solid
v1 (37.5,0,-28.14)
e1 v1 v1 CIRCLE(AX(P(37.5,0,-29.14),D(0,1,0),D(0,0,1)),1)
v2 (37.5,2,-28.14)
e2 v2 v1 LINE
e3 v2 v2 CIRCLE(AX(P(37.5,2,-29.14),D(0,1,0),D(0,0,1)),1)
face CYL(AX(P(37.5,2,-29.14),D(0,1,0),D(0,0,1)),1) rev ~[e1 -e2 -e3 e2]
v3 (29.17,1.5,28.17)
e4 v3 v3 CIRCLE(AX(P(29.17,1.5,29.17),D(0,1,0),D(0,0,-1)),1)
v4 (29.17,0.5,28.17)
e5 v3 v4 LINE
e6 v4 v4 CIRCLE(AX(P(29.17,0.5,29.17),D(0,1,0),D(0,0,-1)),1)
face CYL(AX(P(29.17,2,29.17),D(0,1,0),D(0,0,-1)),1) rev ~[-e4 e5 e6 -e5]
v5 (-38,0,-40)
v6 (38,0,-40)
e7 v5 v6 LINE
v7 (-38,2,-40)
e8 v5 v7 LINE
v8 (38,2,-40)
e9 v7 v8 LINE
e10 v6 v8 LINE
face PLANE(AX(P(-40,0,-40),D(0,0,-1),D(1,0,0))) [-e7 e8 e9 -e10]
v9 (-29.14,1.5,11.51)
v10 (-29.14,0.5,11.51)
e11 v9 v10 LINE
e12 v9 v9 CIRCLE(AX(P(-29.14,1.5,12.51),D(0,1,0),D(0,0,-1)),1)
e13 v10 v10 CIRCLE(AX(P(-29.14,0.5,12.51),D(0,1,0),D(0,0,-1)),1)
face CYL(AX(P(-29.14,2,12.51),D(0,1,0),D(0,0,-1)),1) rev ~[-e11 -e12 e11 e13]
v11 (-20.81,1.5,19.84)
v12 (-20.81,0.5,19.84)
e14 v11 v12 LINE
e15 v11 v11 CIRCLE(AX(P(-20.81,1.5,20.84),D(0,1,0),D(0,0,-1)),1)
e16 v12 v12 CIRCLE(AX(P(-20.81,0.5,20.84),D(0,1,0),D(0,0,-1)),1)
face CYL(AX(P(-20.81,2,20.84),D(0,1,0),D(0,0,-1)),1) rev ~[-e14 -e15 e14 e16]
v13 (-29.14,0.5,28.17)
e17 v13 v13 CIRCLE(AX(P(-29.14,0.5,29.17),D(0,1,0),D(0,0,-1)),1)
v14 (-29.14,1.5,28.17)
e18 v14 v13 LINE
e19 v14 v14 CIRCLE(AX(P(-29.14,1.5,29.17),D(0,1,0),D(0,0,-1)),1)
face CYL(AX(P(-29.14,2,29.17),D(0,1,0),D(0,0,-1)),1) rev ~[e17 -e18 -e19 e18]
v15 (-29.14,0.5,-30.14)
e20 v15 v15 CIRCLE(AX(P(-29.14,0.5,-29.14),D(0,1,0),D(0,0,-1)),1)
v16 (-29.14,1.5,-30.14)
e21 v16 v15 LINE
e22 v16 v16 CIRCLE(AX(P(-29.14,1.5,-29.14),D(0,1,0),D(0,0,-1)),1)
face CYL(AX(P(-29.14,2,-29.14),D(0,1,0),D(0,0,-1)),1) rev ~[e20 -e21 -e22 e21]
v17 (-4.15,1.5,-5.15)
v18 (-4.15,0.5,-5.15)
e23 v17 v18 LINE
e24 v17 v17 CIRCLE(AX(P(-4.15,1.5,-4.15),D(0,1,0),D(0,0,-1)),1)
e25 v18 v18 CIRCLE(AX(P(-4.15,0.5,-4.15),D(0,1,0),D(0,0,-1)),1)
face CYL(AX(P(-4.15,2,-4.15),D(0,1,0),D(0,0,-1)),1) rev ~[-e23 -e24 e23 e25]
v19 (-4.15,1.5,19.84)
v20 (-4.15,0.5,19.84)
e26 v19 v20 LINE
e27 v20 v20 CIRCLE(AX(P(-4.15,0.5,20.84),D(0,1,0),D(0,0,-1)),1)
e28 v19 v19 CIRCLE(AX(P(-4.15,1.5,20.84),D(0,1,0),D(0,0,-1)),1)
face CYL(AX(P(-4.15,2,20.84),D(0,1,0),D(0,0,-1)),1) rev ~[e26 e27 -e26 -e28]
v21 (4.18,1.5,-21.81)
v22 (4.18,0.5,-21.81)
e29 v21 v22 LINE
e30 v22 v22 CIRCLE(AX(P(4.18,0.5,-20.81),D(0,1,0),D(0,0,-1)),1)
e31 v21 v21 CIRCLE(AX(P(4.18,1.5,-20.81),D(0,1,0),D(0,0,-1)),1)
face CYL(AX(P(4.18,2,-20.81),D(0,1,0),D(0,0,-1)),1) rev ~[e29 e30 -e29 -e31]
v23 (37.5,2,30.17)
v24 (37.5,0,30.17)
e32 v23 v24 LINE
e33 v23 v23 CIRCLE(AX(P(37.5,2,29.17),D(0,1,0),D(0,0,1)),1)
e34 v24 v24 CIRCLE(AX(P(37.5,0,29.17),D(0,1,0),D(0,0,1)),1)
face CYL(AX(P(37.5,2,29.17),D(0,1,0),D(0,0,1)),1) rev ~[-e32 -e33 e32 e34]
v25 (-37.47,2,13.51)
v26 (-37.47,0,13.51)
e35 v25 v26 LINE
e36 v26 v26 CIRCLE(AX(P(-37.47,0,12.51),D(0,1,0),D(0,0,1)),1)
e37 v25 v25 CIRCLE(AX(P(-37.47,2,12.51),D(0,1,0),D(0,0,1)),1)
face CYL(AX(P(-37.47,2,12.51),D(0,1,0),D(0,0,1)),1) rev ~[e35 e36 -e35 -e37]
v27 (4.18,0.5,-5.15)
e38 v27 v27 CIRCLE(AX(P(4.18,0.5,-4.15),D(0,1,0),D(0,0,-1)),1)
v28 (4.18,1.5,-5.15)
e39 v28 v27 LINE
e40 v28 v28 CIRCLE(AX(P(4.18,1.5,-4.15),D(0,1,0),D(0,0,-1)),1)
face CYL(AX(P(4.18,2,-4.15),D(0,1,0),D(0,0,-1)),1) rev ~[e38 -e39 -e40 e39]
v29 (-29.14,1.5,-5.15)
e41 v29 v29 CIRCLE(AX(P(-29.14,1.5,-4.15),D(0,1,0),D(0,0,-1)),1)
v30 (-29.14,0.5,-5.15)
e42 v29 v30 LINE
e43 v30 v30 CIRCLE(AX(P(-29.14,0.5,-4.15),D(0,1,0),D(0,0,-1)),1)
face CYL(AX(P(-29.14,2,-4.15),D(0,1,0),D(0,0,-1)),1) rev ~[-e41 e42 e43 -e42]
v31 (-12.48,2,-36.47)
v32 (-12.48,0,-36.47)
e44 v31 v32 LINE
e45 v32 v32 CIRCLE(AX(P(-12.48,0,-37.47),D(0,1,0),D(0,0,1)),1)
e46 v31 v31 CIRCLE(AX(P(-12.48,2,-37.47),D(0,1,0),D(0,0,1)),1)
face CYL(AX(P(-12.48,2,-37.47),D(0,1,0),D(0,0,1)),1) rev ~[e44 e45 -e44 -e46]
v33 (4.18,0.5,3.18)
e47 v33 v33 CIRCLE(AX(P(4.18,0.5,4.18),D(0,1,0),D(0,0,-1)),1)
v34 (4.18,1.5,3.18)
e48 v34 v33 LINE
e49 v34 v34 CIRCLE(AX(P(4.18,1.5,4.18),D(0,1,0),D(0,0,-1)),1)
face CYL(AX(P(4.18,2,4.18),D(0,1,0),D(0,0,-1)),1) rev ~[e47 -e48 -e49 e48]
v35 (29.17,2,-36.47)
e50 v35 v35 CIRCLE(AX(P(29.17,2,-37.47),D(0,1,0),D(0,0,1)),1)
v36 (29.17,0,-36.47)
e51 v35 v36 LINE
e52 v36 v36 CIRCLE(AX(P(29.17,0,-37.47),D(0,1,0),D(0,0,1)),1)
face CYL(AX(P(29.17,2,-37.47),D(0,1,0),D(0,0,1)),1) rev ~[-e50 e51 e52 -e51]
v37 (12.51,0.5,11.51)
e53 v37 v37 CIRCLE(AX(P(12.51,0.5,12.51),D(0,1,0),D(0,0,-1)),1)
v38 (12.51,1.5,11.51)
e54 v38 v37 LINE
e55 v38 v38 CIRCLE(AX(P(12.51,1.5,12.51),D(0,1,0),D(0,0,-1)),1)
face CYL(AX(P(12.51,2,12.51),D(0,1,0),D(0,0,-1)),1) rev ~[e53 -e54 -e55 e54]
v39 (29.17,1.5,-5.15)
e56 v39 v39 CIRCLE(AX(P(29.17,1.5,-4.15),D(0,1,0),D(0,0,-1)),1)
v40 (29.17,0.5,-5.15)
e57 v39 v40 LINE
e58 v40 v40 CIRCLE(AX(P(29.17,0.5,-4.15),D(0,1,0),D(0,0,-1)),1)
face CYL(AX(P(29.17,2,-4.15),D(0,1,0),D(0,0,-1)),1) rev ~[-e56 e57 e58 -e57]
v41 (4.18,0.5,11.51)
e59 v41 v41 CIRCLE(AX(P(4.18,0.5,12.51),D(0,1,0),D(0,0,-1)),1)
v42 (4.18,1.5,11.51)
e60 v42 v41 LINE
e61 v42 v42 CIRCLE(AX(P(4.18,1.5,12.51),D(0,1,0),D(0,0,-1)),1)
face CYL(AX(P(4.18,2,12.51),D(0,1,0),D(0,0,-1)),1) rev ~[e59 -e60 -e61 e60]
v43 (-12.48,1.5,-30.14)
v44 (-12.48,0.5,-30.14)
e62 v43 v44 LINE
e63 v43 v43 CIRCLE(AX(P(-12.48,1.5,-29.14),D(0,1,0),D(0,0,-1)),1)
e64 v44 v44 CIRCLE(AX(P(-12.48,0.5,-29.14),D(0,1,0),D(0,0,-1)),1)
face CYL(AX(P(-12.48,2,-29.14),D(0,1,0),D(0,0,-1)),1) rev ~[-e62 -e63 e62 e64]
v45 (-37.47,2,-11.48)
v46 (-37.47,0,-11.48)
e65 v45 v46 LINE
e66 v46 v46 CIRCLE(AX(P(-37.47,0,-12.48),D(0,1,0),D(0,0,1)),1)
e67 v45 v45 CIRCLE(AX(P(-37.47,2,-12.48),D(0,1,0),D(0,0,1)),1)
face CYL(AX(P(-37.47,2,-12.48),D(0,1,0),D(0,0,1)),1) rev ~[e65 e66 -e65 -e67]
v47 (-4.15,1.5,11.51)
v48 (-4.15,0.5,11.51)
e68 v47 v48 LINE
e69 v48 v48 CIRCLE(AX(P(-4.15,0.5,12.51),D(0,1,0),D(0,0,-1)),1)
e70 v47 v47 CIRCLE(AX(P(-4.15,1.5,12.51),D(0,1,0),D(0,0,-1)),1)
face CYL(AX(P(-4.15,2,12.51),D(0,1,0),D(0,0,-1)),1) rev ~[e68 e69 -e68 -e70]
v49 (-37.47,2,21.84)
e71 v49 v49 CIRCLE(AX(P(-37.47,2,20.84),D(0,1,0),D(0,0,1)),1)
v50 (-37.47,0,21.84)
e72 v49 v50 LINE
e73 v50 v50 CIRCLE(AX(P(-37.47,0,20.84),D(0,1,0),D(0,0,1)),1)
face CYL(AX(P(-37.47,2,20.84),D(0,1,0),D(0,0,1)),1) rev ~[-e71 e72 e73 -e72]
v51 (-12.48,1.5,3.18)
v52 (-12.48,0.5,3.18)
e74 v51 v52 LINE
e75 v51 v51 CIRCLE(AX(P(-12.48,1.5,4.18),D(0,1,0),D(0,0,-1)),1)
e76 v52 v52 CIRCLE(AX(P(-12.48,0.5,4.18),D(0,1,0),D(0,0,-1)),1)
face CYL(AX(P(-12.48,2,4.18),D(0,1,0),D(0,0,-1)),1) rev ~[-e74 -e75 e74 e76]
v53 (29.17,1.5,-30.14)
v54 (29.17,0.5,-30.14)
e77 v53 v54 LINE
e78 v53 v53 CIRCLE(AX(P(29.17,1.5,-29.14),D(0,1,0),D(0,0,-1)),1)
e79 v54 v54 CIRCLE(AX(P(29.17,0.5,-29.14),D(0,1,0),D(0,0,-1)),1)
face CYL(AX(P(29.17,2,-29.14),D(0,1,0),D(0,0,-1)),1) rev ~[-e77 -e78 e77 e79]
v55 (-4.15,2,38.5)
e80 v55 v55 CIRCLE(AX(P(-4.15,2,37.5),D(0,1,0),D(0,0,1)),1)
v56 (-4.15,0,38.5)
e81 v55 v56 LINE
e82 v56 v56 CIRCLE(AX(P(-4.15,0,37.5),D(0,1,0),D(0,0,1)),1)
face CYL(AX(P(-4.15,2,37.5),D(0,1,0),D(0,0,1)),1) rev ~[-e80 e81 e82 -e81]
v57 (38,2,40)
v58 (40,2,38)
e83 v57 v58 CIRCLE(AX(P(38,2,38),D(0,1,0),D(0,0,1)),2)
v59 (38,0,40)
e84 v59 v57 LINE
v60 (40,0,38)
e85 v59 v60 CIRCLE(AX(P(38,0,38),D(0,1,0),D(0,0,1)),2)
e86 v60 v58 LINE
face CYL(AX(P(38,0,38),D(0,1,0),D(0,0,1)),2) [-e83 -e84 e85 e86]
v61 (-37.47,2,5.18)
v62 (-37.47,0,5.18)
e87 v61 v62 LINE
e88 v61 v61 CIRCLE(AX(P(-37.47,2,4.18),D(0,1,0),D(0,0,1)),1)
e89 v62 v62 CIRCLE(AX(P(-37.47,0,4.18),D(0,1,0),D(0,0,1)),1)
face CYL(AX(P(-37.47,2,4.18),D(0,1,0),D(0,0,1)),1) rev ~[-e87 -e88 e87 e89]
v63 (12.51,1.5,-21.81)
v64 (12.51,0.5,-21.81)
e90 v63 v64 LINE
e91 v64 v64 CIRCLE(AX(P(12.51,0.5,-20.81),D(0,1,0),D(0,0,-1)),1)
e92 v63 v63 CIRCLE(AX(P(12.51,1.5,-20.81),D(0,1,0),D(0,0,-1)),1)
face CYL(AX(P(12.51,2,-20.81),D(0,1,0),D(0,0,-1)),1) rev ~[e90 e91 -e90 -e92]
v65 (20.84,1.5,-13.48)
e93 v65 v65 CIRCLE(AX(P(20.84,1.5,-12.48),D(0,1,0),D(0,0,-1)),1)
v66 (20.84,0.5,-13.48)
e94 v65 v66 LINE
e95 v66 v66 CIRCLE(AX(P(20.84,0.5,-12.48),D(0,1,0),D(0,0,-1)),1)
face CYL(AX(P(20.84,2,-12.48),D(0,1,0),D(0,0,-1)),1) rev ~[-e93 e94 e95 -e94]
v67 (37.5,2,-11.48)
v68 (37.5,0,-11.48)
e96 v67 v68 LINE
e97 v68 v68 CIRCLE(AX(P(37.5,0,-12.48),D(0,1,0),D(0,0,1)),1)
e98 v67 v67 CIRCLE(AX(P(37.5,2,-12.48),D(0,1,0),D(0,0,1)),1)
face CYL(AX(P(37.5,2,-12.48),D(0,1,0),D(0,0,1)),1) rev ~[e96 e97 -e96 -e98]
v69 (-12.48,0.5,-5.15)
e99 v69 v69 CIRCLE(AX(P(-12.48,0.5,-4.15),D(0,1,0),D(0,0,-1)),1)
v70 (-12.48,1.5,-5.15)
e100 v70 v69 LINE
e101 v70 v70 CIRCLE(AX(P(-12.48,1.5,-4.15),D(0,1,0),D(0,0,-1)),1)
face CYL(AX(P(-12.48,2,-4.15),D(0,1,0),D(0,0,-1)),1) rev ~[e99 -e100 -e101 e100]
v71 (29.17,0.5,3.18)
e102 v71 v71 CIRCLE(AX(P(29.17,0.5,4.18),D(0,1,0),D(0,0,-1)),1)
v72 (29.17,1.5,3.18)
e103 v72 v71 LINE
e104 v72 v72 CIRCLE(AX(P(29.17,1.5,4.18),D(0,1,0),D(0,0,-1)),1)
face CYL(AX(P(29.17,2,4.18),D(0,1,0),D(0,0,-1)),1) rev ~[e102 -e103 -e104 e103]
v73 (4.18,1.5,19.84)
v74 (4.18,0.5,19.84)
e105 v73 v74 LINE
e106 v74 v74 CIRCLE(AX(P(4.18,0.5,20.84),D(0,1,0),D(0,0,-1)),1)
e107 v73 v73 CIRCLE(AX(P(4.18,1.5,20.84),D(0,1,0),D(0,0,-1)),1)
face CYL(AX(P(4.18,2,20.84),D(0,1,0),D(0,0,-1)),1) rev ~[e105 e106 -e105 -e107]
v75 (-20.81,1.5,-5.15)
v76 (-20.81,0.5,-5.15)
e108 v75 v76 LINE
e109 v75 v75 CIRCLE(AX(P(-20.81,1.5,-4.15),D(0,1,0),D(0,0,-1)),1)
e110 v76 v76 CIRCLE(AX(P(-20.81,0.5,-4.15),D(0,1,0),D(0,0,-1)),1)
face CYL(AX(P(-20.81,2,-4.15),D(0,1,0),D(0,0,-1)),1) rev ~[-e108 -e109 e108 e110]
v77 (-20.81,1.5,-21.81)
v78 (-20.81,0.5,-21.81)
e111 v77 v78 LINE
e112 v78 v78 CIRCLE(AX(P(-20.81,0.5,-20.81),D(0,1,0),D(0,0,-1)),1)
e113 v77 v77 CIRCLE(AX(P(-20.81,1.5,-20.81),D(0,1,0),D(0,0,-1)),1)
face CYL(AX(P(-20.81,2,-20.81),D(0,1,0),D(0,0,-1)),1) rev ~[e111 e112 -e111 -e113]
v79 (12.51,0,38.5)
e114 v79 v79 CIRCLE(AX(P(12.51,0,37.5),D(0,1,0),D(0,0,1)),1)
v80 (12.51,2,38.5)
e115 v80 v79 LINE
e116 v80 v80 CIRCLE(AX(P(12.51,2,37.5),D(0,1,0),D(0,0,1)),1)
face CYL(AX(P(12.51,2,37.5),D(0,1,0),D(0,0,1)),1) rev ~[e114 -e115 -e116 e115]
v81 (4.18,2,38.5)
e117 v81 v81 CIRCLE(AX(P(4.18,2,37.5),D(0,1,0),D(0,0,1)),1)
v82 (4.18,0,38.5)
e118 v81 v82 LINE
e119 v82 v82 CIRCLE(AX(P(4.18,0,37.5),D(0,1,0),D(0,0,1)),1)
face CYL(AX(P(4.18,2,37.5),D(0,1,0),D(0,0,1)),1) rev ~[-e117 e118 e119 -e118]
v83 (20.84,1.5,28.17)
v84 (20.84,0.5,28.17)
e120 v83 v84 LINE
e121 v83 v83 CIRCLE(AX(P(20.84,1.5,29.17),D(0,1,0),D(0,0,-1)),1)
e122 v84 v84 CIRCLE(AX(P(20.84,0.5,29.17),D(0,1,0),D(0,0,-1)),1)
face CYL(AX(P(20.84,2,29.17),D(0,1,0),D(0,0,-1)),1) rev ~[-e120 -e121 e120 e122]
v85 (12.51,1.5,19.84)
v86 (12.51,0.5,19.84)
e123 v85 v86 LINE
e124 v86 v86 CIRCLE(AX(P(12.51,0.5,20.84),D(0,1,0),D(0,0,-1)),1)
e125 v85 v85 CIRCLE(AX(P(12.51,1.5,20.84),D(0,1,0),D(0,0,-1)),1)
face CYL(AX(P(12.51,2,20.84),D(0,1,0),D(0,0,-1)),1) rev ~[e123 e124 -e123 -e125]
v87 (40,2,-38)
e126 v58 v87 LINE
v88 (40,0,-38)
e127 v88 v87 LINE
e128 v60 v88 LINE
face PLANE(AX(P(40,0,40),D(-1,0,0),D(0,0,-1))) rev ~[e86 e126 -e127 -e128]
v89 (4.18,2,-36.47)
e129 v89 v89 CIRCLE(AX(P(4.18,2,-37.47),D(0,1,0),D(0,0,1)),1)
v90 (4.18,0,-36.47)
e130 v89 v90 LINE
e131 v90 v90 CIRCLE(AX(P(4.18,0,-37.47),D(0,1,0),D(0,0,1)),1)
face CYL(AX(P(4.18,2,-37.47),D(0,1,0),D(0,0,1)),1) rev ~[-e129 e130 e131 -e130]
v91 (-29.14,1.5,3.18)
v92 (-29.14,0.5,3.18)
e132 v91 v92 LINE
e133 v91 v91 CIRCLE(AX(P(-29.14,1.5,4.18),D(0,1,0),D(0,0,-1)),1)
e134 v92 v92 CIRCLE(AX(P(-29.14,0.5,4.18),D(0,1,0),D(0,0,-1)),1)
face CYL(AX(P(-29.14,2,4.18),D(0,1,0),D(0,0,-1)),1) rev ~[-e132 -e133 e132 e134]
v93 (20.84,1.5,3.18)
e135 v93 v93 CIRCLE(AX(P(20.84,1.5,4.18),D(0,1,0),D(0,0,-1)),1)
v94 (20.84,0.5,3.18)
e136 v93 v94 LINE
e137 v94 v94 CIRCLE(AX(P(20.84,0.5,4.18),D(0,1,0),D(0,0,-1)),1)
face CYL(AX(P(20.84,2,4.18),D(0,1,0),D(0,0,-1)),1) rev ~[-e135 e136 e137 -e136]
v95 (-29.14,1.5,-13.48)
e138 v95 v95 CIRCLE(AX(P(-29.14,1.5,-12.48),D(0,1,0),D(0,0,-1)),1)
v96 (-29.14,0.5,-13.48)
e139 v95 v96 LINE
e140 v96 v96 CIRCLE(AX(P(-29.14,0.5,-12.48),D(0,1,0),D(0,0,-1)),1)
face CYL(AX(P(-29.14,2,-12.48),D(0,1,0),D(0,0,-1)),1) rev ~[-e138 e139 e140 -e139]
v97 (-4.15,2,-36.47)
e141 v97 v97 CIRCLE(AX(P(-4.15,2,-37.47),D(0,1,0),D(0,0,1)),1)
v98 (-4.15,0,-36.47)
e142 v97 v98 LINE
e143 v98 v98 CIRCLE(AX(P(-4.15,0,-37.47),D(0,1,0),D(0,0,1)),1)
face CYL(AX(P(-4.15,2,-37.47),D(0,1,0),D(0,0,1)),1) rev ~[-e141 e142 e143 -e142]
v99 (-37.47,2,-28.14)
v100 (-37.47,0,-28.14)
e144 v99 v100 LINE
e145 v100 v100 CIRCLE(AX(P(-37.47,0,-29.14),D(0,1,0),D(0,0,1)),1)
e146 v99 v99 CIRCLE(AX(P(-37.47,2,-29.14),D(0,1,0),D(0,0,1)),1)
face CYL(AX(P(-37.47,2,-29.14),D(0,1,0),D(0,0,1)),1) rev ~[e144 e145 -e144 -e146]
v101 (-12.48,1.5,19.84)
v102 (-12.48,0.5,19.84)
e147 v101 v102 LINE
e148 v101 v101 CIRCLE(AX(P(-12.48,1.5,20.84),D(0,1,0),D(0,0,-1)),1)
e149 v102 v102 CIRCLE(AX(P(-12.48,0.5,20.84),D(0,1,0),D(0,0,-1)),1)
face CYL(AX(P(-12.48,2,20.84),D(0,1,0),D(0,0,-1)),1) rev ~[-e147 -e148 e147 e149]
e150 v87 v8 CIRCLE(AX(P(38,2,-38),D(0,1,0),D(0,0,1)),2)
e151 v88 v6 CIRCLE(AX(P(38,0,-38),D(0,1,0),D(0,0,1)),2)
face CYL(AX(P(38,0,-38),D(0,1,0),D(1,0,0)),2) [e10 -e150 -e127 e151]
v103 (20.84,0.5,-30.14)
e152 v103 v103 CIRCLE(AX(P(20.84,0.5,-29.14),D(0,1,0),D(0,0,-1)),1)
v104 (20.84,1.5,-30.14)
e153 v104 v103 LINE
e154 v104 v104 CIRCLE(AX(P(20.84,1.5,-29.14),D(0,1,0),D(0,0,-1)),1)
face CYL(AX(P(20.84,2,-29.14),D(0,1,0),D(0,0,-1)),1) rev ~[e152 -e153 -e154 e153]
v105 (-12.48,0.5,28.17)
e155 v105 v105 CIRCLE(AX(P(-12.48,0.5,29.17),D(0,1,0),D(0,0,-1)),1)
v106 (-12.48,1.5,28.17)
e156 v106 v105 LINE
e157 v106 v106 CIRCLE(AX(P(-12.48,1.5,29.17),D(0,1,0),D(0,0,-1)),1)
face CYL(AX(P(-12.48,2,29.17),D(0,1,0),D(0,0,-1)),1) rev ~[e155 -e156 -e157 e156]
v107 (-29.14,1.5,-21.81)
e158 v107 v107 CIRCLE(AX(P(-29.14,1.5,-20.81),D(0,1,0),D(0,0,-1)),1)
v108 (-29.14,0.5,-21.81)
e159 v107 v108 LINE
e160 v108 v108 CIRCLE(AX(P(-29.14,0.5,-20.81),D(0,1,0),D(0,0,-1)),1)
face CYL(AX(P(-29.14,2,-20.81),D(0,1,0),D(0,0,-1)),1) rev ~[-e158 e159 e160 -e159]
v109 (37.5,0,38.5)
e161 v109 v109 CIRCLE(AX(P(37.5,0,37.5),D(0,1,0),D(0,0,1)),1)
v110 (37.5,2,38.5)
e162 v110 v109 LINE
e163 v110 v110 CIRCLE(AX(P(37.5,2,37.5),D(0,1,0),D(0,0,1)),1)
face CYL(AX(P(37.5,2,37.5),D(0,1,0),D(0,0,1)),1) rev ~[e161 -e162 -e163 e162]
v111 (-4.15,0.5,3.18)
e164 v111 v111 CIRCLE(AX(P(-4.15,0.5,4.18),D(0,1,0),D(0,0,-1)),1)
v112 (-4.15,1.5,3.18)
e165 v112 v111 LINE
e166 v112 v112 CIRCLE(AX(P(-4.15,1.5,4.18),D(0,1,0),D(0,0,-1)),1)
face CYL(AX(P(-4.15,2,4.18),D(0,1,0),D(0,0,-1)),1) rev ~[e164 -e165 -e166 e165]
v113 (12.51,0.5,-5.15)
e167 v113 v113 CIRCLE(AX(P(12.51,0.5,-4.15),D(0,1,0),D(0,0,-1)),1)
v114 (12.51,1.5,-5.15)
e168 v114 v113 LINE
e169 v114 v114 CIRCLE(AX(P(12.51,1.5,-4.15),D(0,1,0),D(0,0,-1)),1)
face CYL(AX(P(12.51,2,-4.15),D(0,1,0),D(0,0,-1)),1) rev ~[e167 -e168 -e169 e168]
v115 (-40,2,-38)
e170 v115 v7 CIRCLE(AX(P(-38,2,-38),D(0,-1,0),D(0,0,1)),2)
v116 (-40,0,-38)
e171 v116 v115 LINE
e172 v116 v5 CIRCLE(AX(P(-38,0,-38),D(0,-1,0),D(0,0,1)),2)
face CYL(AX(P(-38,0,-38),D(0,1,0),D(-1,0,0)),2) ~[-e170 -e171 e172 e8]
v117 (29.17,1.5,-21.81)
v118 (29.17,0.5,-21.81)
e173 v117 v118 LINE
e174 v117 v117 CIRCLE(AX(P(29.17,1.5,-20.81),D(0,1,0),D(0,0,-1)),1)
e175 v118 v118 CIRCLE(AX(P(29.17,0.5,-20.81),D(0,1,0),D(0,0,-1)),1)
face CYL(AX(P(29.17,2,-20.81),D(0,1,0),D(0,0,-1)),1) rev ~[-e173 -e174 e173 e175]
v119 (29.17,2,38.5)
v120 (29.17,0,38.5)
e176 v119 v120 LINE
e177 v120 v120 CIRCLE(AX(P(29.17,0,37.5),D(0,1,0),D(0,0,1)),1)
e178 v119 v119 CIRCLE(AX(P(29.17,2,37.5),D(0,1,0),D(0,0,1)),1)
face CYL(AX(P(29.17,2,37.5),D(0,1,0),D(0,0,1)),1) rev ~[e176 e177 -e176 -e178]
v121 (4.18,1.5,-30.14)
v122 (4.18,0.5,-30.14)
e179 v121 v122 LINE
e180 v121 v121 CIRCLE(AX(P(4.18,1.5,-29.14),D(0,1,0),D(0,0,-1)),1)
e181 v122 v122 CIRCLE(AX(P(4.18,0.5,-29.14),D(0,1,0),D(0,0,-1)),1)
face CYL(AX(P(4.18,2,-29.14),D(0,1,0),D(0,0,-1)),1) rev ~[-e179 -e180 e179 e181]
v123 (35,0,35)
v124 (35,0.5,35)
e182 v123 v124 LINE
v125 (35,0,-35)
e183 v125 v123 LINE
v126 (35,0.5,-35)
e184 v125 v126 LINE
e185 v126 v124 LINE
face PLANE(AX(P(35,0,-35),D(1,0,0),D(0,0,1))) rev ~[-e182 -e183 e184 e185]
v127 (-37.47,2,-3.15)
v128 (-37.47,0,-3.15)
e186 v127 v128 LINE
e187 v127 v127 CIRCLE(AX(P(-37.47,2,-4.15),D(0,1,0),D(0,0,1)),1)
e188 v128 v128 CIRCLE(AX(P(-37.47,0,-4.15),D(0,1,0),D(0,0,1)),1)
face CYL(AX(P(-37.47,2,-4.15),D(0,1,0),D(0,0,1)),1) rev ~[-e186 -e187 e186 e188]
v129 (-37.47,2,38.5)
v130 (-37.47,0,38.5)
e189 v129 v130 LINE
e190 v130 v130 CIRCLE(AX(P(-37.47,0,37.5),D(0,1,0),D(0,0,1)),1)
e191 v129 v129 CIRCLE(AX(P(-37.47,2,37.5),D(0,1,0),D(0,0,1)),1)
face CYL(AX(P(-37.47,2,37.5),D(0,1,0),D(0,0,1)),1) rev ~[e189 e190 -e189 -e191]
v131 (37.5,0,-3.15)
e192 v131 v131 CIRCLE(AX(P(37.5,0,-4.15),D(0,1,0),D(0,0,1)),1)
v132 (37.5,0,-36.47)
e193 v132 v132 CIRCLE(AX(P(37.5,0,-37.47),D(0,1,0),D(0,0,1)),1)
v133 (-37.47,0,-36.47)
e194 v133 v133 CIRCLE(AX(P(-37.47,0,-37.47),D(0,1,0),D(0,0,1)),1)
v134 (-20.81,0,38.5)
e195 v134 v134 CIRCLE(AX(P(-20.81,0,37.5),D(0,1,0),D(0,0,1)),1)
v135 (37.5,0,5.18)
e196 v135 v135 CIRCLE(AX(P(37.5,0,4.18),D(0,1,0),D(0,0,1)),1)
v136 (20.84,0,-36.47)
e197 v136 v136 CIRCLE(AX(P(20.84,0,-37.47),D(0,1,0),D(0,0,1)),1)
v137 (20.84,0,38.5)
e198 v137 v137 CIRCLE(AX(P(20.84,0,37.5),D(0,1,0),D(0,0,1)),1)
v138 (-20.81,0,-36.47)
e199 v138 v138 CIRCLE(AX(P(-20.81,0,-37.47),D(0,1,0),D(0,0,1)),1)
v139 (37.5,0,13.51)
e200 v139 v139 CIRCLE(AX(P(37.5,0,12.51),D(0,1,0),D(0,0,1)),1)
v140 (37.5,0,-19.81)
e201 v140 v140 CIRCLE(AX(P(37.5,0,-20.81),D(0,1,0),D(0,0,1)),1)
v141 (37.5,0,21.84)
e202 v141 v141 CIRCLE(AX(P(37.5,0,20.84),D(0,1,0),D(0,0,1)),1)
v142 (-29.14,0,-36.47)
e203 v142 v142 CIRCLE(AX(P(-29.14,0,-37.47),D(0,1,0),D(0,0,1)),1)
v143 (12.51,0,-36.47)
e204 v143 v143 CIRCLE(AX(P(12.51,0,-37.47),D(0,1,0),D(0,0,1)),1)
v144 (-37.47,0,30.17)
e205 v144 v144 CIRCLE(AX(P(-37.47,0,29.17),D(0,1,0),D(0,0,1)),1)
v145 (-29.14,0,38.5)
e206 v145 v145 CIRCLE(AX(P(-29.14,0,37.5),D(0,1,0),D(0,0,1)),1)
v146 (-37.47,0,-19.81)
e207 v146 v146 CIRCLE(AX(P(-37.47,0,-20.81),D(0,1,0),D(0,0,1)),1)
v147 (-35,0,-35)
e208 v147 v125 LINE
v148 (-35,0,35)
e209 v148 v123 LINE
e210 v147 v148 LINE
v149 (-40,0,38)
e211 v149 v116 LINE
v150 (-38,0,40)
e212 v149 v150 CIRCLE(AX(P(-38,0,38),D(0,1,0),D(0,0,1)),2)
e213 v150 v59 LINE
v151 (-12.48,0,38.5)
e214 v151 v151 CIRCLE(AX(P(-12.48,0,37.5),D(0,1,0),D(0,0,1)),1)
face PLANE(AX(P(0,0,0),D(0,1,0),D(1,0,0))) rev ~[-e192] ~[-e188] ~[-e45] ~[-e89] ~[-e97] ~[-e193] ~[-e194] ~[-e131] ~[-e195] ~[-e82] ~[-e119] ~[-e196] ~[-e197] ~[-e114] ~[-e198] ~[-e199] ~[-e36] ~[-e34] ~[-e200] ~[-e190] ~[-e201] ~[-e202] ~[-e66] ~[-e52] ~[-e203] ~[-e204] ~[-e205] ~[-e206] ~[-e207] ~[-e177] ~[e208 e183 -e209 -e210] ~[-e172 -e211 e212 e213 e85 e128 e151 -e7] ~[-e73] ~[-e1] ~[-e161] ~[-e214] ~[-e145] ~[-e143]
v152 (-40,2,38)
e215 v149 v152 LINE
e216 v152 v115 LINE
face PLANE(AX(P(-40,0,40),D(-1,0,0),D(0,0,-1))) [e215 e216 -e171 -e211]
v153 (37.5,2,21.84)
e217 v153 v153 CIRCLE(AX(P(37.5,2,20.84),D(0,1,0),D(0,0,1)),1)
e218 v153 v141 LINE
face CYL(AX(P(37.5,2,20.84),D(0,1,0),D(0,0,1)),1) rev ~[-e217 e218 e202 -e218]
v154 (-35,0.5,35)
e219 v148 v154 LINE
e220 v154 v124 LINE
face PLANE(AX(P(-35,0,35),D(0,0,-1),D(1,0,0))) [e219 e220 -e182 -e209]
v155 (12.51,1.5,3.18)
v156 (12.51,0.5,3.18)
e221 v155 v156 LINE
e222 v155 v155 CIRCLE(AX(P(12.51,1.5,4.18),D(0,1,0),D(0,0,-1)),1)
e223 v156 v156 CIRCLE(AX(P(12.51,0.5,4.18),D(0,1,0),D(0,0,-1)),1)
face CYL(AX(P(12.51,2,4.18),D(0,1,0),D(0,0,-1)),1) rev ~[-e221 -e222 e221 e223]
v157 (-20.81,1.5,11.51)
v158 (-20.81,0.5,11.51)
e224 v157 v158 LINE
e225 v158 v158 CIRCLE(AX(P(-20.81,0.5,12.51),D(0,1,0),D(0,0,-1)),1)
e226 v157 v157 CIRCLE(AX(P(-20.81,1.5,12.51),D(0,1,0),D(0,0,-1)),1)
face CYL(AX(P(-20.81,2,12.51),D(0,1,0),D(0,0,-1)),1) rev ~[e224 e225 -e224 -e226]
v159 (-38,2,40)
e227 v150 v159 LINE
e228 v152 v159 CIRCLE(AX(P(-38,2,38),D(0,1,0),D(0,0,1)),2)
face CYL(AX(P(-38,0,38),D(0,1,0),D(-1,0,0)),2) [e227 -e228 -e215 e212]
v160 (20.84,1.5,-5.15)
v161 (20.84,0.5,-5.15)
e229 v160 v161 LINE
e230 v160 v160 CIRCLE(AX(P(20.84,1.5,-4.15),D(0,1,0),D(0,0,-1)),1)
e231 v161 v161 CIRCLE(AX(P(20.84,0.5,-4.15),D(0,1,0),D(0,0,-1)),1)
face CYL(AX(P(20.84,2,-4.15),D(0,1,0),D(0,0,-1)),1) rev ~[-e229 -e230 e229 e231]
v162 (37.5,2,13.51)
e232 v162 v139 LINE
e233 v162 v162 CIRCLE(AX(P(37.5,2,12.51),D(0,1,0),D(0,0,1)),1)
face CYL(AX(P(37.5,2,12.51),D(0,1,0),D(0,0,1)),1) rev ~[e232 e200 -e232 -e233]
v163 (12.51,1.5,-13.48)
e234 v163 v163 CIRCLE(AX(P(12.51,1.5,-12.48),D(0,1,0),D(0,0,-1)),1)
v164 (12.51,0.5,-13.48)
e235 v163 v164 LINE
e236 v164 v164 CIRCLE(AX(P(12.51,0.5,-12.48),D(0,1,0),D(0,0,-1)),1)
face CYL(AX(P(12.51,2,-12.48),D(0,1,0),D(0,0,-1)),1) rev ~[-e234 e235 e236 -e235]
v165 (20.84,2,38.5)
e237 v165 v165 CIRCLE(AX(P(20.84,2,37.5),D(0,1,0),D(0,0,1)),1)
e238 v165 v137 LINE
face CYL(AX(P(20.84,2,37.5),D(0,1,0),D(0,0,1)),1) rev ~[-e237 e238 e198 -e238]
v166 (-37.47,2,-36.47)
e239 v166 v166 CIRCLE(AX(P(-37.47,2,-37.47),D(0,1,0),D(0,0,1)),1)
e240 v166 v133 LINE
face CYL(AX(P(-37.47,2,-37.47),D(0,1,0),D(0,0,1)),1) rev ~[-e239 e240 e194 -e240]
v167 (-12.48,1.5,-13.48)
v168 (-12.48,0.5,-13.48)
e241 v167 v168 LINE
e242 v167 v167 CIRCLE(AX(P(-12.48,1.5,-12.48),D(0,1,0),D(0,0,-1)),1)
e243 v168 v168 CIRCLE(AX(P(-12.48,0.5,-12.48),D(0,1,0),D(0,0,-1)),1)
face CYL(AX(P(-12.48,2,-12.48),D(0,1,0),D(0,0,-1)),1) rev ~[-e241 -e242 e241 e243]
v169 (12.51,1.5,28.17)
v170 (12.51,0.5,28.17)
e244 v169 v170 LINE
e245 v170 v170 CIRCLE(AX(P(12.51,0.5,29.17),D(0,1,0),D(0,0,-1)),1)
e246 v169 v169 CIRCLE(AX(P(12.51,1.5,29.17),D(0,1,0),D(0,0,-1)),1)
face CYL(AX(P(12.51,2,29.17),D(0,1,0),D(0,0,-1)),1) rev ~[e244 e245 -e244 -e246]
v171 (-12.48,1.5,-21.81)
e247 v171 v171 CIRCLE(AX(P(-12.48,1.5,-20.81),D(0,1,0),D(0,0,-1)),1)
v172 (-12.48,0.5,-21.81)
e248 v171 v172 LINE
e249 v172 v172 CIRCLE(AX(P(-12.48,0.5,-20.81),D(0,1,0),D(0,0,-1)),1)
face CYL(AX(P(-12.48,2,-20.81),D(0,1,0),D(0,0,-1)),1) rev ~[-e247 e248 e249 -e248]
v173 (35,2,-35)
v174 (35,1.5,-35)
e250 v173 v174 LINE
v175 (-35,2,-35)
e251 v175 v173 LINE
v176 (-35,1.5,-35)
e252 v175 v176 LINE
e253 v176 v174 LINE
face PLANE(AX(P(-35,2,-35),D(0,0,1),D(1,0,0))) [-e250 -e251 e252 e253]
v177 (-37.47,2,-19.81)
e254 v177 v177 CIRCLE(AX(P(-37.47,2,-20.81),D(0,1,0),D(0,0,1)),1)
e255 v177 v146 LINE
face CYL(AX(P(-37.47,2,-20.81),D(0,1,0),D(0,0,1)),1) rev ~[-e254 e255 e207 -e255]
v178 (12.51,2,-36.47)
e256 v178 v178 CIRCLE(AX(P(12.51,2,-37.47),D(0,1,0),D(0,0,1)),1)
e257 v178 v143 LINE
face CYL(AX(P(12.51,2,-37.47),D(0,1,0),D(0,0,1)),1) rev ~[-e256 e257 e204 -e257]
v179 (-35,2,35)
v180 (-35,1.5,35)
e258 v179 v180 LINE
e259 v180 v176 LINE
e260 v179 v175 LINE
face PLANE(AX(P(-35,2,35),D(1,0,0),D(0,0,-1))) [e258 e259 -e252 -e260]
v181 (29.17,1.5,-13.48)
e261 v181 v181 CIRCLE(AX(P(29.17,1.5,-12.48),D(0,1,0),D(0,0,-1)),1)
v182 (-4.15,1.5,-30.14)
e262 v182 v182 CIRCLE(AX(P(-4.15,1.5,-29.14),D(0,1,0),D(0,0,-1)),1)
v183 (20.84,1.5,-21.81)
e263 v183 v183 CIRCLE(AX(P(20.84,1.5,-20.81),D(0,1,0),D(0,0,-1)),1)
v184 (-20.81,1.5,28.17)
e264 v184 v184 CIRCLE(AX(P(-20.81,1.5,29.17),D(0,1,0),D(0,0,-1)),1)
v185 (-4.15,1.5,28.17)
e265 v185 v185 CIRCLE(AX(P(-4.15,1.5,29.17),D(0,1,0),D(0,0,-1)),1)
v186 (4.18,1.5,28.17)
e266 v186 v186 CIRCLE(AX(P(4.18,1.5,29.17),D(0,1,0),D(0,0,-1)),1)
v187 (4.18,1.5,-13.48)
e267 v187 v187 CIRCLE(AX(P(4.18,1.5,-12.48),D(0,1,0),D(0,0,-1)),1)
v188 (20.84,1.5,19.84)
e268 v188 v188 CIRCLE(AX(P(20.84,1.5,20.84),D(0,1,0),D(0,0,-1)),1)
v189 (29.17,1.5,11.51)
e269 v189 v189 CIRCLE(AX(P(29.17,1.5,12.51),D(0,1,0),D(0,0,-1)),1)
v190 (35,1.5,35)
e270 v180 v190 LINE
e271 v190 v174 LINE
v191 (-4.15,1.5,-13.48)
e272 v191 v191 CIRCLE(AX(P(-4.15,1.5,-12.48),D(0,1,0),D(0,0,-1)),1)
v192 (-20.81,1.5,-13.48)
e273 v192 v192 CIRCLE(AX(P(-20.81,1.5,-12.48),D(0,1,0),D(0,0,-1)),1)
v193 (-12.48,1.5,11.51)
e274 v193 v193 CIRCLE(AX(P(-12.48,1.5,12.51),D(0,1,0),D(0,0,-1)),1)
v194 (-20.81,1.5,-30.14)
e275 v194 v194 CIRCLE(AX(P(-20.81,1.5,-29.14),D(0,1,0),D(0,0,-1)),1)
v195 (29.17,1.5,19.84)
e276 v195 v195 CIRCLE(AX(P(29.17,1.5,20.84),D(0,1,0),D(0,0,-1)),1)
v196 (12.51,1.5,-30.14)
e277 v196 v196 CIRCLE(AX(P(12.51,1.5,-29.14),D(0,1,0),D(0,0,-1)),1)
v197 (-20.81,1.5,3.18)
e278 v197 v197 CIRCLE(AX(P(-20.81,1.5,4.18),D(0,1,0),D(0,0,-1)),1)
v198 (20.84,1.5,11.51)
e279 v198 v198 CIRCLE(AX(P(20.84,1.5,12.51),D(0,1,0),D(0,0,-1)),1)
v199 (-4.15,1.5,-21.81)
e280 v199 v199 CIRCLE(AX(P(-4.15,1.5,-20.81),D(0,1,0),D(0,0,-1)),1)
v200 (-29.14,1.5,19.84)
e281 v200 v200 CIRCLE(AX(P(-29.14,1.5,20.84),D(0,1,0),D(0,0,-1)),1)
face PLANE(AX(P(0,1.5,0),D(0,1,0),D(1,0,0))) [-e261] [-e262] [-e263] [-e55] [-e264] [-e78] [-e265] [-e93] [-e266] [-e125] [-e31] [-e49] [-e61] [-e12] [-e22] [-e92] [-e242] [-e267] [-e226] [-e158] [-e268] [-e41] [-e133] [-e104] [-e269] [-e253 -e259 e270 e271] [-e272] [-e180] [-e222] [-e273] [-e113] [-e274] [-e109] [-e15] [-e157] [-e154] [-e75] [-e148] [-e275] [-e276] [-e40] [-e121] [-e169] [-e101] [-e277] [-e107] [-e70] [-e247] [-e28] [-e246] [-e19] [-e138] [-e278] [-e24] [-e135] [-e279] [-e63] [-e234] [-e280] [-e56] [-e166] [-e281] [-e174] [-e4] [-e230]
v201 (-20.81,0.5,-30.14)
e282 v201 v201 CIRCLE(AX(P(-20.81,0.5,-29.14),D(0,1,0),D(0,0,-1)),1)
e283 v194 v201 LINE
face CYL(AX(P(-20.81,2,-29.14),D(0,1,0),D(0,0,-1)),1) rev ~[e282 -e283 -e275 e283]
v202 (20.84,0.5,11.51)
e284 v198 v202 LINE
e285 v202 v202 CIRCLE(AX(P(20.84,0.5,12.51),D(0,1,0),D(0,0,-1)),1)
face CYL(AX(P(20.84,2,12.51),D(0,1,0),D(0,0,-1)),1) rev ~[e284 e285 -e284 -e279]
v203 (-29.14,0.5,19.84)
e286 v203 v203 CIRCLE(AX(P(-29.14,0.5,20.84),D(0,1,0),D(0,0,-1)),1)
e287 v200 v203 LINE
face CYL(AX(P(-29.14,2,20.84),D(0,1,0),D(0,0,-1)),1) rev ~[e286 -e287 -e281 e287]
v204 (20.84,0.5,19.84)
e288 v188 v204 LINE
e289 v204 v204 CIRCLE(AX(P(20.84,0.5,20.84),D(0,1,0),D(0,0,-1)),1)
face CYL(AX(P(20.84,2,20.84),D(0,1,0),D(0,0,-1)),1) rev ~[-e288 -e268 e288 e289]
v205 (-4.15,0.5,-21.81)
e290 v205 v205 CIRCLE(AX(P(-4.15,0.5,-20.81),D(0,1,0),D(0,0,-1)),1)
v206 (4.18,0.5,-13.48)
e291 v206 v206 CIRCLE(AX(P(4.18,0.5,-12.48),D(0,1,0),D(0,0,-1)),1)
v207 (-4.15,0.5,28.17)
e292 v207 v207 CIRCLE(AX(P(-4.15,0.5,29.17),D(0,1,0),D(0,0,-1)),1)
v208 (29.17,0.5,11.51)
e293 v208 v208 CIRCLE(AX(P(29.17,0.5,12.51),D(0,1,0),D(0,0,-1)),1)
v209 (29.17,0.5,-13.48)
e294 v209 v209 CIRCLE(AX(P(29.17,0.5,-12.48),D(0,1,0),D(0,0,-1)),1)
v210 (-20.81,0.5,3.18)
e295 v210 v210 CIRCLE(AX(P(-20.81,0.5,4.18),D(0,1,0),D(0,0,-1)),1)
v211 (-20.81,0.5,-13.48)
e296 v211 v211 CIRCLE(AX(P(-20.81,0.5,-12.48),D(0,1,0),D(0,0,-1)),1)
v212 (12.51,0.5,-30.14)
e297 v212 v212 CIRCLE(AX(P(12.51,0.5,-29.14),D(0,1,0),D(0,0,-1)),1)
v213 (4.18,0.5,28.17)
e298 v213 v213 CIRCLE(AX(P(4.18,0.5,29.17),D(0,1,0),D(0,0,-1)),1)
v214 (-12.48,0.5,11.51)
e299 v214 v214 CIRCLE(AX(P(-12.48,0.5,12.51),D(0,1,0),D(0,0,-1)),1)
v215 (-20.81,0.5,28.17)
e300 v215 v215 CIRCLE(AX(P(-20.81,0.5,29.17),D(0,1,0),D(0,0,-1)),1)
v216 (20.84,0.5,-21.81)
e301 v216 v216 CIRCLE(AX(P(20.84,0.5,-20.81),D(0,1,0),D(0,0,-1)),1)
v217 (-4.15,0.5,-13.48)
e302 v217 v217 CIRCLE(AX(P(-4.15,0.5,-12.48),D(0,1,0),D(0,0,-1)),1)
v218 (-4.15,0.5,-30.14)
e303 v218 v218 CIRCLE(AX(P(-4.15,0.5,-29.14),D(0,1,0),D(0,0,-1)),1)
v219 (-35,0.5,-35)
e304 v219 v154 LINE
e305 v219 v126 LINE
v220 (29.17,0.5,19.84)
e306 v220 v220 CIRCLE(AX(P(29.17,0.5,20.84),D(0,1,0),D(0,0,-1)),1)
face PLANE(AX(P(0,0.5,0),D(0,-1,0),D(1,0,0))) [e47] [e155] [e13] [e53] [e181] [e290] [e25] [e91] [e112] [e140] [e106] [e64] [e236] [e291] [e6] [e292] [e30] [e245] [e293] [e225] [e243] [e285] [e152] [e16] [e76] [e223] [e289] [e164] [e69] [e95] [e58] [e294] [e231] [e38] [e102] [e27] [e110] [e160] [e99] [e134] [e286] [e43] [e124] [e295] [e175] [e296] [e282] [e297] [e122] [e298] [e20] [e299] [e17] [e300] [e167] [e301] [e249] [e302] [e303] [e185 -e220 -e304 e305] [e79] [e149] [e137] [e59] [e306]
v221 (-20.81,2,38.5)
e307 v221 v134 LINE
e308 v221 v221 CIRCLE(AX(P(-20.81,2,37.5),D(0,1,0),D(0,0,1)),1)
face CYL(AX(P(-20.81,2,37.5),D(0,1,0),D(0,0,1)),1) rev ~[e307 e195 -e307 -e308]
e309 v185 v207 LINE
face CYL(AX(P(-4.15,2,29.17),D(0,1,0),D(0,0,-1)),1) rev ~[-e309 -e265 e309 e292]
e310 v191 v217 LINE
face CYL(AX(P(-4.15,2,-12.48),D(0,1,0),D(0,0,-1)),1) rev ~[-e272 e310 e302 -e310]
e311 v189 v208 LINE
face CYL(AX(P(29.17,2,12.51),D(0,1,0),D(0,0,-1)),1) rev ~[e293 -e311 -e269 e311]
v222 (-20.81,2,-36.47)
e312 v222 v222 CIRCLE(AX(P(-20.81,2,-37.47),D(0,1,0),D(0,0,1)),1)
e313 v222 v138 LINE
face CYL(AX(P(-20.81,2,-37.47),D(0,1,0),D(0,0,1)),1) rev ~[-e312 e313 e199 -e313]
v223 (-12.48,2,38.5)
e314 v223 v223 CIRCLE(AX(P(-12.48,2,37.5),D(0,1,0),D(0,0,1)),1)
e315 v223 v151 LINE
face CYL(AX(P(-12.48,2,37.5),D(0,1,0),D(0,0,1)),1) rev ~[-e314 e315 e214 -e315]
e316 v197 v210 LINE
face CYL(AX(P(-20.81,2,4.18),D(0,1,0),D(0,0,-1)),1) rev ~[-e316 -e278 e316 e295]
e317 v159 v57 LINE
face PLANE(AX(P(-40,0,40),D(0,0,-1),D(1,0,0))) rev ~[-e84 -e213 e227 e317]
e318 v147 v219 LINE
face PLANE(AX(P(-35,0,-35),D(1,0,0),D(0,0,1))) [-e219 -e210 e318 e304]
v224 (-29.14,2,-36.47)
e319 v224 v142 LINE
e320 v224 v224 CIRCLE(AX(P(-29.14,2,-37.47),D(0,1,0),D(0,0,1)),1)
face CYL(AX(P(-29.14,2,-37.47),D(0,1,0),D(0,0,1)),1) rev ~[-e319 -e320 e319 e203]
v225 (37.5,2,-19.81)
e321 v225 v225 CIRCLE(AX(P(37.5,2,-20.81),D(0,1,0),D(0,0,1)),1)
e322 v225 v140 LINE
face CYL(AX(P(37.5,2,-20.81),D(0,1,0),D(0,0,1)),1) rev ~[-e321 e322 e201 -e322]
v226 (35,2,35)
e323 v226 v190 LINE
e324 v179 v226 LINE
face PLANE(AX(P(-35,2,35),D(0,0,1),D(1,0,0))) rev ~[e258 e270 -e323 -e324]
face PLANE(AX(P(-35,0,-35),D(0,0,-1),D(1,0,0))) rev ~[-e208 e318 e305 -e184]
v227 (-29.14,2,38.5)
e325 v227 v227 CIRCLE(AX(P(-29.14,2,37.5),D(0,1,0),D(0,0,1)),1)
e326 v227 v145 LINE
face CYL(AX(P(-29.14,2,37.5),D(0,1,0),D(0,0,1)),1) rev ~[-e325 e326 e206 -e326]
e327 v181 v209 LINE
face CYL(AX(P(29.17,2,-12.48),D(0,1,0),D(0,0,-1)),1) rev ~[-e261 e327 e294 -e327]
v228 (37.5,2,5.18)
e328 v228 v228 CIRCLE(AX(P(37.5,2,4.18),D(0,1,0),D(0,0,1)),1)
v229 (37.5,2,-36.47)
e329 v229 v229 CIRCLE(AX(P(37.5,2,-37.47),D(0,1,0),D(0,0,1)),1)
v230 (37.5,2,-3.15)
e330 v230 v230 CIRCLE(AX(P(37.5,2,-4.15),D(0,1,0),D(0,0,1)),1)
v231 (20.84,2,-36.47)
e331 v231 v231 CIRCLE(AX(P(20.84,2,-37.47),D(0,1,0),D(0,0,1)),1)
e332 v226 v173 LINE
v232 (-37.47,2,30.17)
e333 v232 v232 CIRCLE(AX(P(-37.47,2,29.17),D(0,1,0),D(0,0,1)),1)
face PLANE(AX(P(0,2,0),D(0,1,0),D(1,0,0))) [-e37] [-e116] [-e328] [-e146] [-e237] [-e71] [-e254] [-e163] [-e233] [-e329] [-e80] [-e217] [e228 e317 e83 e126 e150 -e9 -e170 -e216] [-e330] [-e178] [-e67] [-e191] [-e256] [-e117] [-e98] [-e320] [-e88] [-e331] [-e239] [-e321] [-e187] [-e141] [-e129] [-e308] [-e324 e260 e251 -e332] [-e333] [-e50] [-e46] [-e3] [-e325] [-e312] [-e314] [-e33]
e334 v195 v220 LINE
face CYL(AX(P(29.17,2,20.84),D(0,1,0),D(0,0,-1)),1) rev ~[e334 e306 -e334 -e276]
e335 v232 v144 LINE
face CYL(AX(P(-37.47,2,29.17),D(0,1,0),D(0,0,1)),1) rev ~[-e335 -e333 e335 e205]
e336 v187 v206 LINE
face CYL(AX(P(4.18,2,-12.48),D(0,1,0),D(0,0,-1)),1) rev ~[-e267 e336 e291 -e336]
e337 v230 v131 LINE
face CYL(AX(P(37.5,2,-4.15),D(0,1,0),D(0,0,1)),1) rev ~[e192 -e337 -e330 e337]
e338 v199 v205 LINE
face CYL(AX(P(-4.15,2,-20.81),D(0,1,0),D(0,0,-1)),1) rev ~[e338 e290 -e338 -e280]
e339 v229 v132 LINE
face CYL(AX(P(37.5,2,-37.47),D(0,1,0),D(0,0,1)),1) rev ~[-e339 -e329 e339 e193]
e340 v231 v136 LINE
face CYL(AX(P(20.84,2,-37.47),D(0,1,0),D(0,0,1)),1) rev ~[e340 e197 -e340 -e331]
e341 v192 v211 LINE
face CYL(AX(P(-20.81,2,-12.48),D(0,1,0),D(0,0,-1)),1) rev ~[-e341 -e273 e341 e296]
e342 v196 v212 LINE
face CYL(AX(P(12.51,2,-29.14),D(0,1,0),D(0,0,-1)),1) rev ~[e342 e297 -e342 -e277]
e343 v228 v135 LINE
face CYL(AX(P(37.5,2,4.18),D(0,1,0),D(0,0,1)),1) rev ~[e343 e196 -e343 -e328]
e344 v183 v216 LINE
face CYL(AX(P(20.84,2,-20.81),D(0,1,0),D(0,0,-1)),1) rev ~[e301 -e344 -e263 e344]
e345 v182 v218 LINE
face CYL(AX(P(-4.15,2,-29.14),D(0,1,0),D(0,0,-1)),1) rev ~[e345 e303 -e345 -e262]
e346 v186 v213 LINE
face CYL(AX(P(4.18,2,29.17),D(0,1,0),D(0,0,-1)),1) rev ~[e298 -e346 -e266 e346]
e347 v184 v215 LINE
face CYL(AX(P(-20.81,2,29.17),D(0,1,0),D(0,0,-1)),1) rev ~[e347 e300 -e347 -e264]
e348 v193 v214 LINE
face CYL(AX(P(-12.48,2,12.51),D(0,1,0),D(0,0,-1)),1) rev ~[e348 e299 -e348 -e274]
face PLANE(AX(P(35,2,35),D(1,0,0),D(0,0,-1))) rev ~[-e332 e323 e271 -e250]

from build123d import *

# Parameters (mm, degrees)
SKETCH1_W           = 80
SKETCH1_H           = 80
BOSS_EXTRUDE1_DEPTH = 2
FILLET1_R           = 2
SKETCH3_W           = 70
SKETCH3_H           = 70
CUT_EXTRUDE2_DEPTH  = 0.5
SKETCH4_W           = 70
SKETCH4_H           = 70
CUT_EXTRUDE3_DEPTH  = 0.5
SKETCH5_R           = 1
CUT_EXTRUDE4_DEPTH  = 10


with BuildPart() as part:
    # Sketch1 → Boss-Extrude1 (new body)
    with BuildSketch(Plane(origin=(0, 0, 0), x_dir=(1, 0, 0), z_dir=(0, 1, 0))):
        Rectangle(SKETCH1_W, SKETCH1_H)
    extrude(amount=BOSS_EXTRUDE1_DEPTH)

    # Fillet1
    fillet1_edges = [part.edges().sort_by_distance(p)[0] for p in [
        (-40, 1, -40),
        (40, 1, -40),
        (40, 1, 40),
        (-40, 1, 40),
    ]]
    fillet(fillet1_edges, radius=FILLET1_R)

    # Sketch3 → Cut-Extrude2 (cut)
    with BuildSketch(Plane(origin=(0, 2, 0), x_dir=(1, 0, 0), z_dir=(0, 1, 0))):
        Rectangle(SKETCH3_W, SKETCH3_H)
    extrude(amount=-CUT_EXTRUDE2_DEPTH, mode=Mode.SUBTRACT)

    # Sketch4 → Cut-Extrude3 (cut)
    with BuildSketch(Plane.XZ):
        Rectangle(SKETCH4_W, SKETCH4_H)
    extrude(amount=-CUT_EXTRUDE3_DEPTH, mode=Mode.SUBTRACT)

    # Sketch5 → Cut-Extrude4 (cut)
    with BuildSketch(Plane(origin=(0, 2, 0), x_dir=(1, 0, 0), z_dir=(0, 1, 0))):
        with Locations(Location((37.5, -37.5, 0), (0, 0, 270))):
            Circle(SKETCH5_R)
        with Locations(Location((29.17, -37.5, 0), (0, 0, 270))):
            Circle(SKETCH5_R)
        with Locations(Location((20.84, -37.5, 0), (0, 0, 270))):
            Circle(SKETCH5_R)
        with Locations(Location((12.51, -37.5, 0), (0, 0, 270))):
            Circle(SKETCH5_R)
        with Locations(Location((4.18, -37.5, 0), (0, 0, 270))):
            Circle(SKETCH5_R)
        with Locations(Location((-4.15, -37.5, 0), (0, 0, 270))):
            Circle(SKETCH5_R)
        with Locations(Location((-12.48, -37.5, 0), (0, 0, 270))):
            Circle(SKETCH5_R)
        with Locations(Location((-20.81, -37.5, 0), (0, 0, 270))):
            Circle(SKETCH5_R)
        with Locations(Location((-29.14, -37.5, 0), (0, 0, 270))):
            Circle(SKETCH5_R)
        with Locations(Location((-37.47, -37.5, 0), (0, 0, 270))):
            Circle(SKETCH5_R)
        with Locations(Location((29.17, -29.17, 0), (0, 0, 90))):
            Circle(SKETCH5_R)
        with Locations(Location((20.84, -29.17, 0), (0, 0, 90))):
            Circle(SKETCH5_R)
        with Locations(Location((12.51, -29.17, 0), (0, 0, 90))):
            Circle(SKETCH5_R)
        with Locations(Location((4.18, -29.17, 0), (0, 0, 90))):
            Circle(SKETCH5_R)
        with Locations(Location((-4.15, -29.17, 0), (0, 0, 90))):
            Circle(SKETCH5_R)
        with Locations(Location((-12.48, -29.17, 0), (0, 0, 90))):
            Circle(SKETCH5_R)
        with Locations(Location((-20.81, -29.17, 0), (0, 0, 90))):
            Circle(SKETCH5_R)
        with Locations(Location((-29.14, -29.17, 0), (0, 0, 90))):
            Circle(SKETCH5_R)
        with Locations(Location((-37.47, -29.17, 0), (0, 0, 270))):
            Circle(SKETCH5_R)
        with Locations(Location((29.17, -20.84, 0), (0, 0, 90))):
            Circle(SKETCH5_R)
        with Locations(Location((20.84, -20.84, 0), (0, 0, 90))):
            Circle(SKETCH5_R)
        with Locations(Location((12.51, -20.84, 0), (0, 0, 90))):
            Circle(SKETCH5_R)
        with Locations(Location((4.18, -20.84, 0), (0, 0, 90))):
            Circle(SKETCH5_R)
        with Locations(Location((-4.15, -20.84, 0), (0, 0, 90))):
            Circle(SKETCH5_R)
        with Locations(Location((-12.48, -20.84, 0), (0, 0, 90))):
            Circle(SKETCH5_R)
        with Locations(Location((-20.81, -20.84, 0), (0, 0, 90))):
            Circle(SKETCH5_R)
        with Locations(Location((-29.14, -20.84, 0), (0, 0, 90))):
            Circle(SKETCH5_R)
        with Locations(Location((-37.47, -20.84, 0), (0, 0, 270))):
            Circle(SKETCH5_R)
        with Locations(Location((29.17, -12.51, 0), (0, 0, 90))):
            Circle(SKETCH5_R)
        with Locations(Location((20.84, -12.51, 0), (0, 0, 90))):
            Circle(SKETCH5_R)
        with Locations(Location((12.51, -12.51, 0), (0, 0, 90))):
            Circle(SKETCH5_R)
        with Locations(Location((4.18, -12.51, 0), (0, 0, 90))):
            Circle(SKETCH5_R)
        with Locations(Location((-4.15, -12.51, 0), (0, 0, 90))):
            Circle(SKETCH5_R)
        with Locations(Location((-12.48, -12.51, 0), (0, 0, 90))):
            Circle(SKETCH5_R)
        with Locations(Location((-20.81, -12.51, 0), (0, 0, 90))):
            Circle(SKETCH5_R)
        with Locations(Location((-29.14, -12.51, 0), (0, 0, 90))):
            Circle(SKETCH5_R)
        with Locations(Location((-37.47, -12.51, 0), (0, 0, 270))):
            Circle(SKETCH5_R)
        with Locations(Location((29.17, -4.18, 0), (0, 0, 90))):
            Circle(SKETCH5_R)
        with Locations(Location((20.84, -4.18, 0), (0, 0, 90))):
            Circle(SKETCH5_R)
        with Locations(Location((12.51, -4.18, 0), (0, 0, 90))):
            Circle(SKETCH5_R)
        with Locations(Location((4.18, -4.18, 0), (0, 0, 90))):
            Circle(SKETCH5_R)
        with Locations(Location((-4.15, -4.18, 0), (0, 0, 90))):
            Circle(SKETCH5_R)
        with Locations(Location((-12.48, -4.18, 0), (0, 0, 90))):
            Circle(SKETCH5_R)
        with Locations(Location((-20.81, -4.18, 0), (0, 0, 90))):
            Circle(SKETCH5_R)
        with Locations(Location((-29.14, -4.18, 0), (0, 0, 90))):
            Circle(SKETCH5_R)
        with Locations(Location((-37.47, -4.18, 0), (0, 0, 270))):
            Circle(SKETCH5_R)
        with Locations(Location((29.17, 4.15, 0), (0, 0, 90))):
            Circle(SKETCH5_R)
        with Locations(Location((20.84, 4.15, 0), (0, 0, 90))):
            Circle(SKETCH5_R)
        with Locations(Location((12.51, 4.15, 0), (0, 0, 90))):
            Circle(SKETCH5_R)
        with Locations(Location((4.18, 4.15, 0), (0, 0, 90))):
            Circle(SKETCH5_R)
        with Locations(Location((-4.15, 4.15, 0), (0, 0, 90))):
            Circle(SKETCH5_R)
        with Locations(Location((-12.48, 4.15, 0), (0, 0, 90))):
            Circle(SKETCH5_R)
        with Locations(Location((-20.81, 4.15, 0), (0, 0, 90))):
            Circle(SKETCH5_R)
        with Locations(Location((-29.14, 4.15, 0), (0, 0, 90))):
            Circle(SKETCH5_R)
        with Locations(Location((-37.47, 4.15, 0), (0, 0, 270))):
            Circle(SKETCH5_R)
        with Locations(Location((29.17, 12.48, 0), (0, 0, 90))):
            Circle(SKETCH5_R)
        with Locations(Location((20.84, 12.48, 0), (0, 0, 90))):
            Circle(SKETCH5_R)
        with Locations(Location((12.51, 12.48, 0), (0, 0, 90))):
            Circle(SKETCH5_R)
        with Locations(Location((4.18, 12.48, 0), (0, 0, 90))):
            Circle(SKETCH5_R)
        with Locations(Location((-4.15, 12.48, 0), (0, 0, 90))):
            Circle(SKETCH5_R)
        with Locations(Location((-12.48, 12.48, 0), (0, 0, 90))):
            Circle(SKETCH5_R)
        with Locations(Location((-20.81, 12.48, 0), (0, 0, 90))):
            Circle(SKETCH5_R)
        with Locations(Location((-29.14, 12.48, 0), (0, 0, 90))):
            Circle(SKETCH5_R)
        with Locations(Location((-37.47, 12.48, 0), (0, 0, 270))):
            Circle(SKETCH5_R)
        with Locations(Location((29.17, 20.81, 0), (0, 0, 90))):
            Circle(SKETCH5_R)
        with Locations(Location((20.84, 20.81, 0), (0, 0, 90))):
            Circle(SKETCH5_R)
        with Locations(Location((12.51, 20.81, 0), (0, 0, 90))):
            Circle(SKETCH5_R)
        with Locations(Location((4.18, 20.81, 0), (0, 0, 90))):
            Circle(SKETCH5_R)
        with Locations(Location((-4.15, 20.81, 0), (0, 0, 90))):
            Circle(SKETCH5_R)
        with Locations(Location((-12.48, 20.81, 0), (0, 0, 90))):
            Circle(SKETCH5_R)
        with Locations(Location((-20.81, 20.81, 0), (0, 0, 90))):
            Circle(SKETCH5_R)
        with Locations(Location((-29.14, 20.81, 0), (0, 0, 90))):
            Circle(SKETCH5_R)
        with Locations(Location((-37.47, 20.81, 0), (0, 0, 270))):
            Circle(SKETCH5_R)
        with Locations(Location((29.17, 29.14, 0), (0, 0, 90))):
            Circle(SKETCH5_R)
        with Locations(Location((20.84, 29.14, 0), (0, 0, 90))):
            Circle(SKETCH5_R)
        with Locations(Location((12.51, 29.14, 0), (0, 0, 90))):
            Circle(SKETCH5_R)
        with Locations(Location((4.18, 29.14, 0), (0, 0, 90))):
            Circle(SKETCH5_R)
        with Locations(Location((-4.15, 29.14, 0), (0, 0, 90))):
            Circle(SKETCH5_R)
        with Locations(Location((-12.48, 29.14, 0), (0, 0, 90))):
            Circle(SKETCH5_R)
        with Locations(Location((-20.81, 29.14, 0), (0, 0, 90))):
            Circle(SKETCH5_R)
        with Locations(Location((-29.14, 29.14, 0), (0, 0, 90))):
            Circle(SKETCH5_R)
        with Locations(Location((-37.47, 29.14, 0), (0, 0, 270))):
            Circle(SKETCH5_R)
        with Locations(Location((29.17, 37.47, 0), (0, 0, 270))):
            Circle(SKETCH5_R)
        with Locations(Location((20.84, 37.47, 0), (0, 0, 270))):
            Circle(SKETCH5_R)
        with Locations(Location((12.51, 37.47, 0), (0, 0, 270))):
            Circle(SKETCH5_R)
        with Locations(Location((4.18, 37.47, 0), (0, 0, 270))):
            Circle(SKETCH5_R)
        with Locations(Location((-4.15, 37.47, 0), (0, 0, 270))):
            Circle(SKETCH5_R)
        with Locations(Location((-12.48, 37.47, 0), (0, 0, 270))):
            Circle(SKETCH5_R)
        with Locations(Location((-20.81, 37.47, 0), (0, 0, 270))):
            Circle(SKETCH5_R)
        with Locations(Location((-29.14, 37.47, 0), (0, 0, 270))):
            Circle(SKETCH5_R)
        with Locations(Location((-37.47, 37.47, 0), (0, 0, 270))):
            Circle(SKETCH5_R)
        with Locations(Location((37.5, -29.17, 0), (0, 0, 270))):
            Circle(SKETCH5_R)
        with Locations(Location((37.5, -20.84, 0), (0, 0, 270))):
            Circle(SKETCH5_R)
        with Locations(Location((37.5, -12.51, 0), (0, 0, 270))):
            Circle(SKETCH5_R)
        with Locations(Location((37.5, -4.18, 0), (0, 0, 270))):
            Circle(SKETCH5_R)
        with Locations(Location((37.5, 4.15, 0), (0, 0, 270))):
            Circle(SKETCH5_R)
        with Locations(Location((37.5, 12.48, 0), (0, 0, 270))):
            Circle(SKETCH5_R)
        with Locations(Location((37.5, 20.81, 0), (0, 0, 270))):
            Circle(SKETCH5_R)
        with Locations(Location((37.5, 29.14, 0), (0, 0, 270))):
            Circle(SKETCH5_R)
        with Locations(Location((37.5, 37.47, 0), (0, 0, 270))):
            Circle(SKETCH5_R)
    extrude(amount=-CUT_EXTRUDE4_DEPTH, mode=Mode.SUBTRACT)


solid = part.part
